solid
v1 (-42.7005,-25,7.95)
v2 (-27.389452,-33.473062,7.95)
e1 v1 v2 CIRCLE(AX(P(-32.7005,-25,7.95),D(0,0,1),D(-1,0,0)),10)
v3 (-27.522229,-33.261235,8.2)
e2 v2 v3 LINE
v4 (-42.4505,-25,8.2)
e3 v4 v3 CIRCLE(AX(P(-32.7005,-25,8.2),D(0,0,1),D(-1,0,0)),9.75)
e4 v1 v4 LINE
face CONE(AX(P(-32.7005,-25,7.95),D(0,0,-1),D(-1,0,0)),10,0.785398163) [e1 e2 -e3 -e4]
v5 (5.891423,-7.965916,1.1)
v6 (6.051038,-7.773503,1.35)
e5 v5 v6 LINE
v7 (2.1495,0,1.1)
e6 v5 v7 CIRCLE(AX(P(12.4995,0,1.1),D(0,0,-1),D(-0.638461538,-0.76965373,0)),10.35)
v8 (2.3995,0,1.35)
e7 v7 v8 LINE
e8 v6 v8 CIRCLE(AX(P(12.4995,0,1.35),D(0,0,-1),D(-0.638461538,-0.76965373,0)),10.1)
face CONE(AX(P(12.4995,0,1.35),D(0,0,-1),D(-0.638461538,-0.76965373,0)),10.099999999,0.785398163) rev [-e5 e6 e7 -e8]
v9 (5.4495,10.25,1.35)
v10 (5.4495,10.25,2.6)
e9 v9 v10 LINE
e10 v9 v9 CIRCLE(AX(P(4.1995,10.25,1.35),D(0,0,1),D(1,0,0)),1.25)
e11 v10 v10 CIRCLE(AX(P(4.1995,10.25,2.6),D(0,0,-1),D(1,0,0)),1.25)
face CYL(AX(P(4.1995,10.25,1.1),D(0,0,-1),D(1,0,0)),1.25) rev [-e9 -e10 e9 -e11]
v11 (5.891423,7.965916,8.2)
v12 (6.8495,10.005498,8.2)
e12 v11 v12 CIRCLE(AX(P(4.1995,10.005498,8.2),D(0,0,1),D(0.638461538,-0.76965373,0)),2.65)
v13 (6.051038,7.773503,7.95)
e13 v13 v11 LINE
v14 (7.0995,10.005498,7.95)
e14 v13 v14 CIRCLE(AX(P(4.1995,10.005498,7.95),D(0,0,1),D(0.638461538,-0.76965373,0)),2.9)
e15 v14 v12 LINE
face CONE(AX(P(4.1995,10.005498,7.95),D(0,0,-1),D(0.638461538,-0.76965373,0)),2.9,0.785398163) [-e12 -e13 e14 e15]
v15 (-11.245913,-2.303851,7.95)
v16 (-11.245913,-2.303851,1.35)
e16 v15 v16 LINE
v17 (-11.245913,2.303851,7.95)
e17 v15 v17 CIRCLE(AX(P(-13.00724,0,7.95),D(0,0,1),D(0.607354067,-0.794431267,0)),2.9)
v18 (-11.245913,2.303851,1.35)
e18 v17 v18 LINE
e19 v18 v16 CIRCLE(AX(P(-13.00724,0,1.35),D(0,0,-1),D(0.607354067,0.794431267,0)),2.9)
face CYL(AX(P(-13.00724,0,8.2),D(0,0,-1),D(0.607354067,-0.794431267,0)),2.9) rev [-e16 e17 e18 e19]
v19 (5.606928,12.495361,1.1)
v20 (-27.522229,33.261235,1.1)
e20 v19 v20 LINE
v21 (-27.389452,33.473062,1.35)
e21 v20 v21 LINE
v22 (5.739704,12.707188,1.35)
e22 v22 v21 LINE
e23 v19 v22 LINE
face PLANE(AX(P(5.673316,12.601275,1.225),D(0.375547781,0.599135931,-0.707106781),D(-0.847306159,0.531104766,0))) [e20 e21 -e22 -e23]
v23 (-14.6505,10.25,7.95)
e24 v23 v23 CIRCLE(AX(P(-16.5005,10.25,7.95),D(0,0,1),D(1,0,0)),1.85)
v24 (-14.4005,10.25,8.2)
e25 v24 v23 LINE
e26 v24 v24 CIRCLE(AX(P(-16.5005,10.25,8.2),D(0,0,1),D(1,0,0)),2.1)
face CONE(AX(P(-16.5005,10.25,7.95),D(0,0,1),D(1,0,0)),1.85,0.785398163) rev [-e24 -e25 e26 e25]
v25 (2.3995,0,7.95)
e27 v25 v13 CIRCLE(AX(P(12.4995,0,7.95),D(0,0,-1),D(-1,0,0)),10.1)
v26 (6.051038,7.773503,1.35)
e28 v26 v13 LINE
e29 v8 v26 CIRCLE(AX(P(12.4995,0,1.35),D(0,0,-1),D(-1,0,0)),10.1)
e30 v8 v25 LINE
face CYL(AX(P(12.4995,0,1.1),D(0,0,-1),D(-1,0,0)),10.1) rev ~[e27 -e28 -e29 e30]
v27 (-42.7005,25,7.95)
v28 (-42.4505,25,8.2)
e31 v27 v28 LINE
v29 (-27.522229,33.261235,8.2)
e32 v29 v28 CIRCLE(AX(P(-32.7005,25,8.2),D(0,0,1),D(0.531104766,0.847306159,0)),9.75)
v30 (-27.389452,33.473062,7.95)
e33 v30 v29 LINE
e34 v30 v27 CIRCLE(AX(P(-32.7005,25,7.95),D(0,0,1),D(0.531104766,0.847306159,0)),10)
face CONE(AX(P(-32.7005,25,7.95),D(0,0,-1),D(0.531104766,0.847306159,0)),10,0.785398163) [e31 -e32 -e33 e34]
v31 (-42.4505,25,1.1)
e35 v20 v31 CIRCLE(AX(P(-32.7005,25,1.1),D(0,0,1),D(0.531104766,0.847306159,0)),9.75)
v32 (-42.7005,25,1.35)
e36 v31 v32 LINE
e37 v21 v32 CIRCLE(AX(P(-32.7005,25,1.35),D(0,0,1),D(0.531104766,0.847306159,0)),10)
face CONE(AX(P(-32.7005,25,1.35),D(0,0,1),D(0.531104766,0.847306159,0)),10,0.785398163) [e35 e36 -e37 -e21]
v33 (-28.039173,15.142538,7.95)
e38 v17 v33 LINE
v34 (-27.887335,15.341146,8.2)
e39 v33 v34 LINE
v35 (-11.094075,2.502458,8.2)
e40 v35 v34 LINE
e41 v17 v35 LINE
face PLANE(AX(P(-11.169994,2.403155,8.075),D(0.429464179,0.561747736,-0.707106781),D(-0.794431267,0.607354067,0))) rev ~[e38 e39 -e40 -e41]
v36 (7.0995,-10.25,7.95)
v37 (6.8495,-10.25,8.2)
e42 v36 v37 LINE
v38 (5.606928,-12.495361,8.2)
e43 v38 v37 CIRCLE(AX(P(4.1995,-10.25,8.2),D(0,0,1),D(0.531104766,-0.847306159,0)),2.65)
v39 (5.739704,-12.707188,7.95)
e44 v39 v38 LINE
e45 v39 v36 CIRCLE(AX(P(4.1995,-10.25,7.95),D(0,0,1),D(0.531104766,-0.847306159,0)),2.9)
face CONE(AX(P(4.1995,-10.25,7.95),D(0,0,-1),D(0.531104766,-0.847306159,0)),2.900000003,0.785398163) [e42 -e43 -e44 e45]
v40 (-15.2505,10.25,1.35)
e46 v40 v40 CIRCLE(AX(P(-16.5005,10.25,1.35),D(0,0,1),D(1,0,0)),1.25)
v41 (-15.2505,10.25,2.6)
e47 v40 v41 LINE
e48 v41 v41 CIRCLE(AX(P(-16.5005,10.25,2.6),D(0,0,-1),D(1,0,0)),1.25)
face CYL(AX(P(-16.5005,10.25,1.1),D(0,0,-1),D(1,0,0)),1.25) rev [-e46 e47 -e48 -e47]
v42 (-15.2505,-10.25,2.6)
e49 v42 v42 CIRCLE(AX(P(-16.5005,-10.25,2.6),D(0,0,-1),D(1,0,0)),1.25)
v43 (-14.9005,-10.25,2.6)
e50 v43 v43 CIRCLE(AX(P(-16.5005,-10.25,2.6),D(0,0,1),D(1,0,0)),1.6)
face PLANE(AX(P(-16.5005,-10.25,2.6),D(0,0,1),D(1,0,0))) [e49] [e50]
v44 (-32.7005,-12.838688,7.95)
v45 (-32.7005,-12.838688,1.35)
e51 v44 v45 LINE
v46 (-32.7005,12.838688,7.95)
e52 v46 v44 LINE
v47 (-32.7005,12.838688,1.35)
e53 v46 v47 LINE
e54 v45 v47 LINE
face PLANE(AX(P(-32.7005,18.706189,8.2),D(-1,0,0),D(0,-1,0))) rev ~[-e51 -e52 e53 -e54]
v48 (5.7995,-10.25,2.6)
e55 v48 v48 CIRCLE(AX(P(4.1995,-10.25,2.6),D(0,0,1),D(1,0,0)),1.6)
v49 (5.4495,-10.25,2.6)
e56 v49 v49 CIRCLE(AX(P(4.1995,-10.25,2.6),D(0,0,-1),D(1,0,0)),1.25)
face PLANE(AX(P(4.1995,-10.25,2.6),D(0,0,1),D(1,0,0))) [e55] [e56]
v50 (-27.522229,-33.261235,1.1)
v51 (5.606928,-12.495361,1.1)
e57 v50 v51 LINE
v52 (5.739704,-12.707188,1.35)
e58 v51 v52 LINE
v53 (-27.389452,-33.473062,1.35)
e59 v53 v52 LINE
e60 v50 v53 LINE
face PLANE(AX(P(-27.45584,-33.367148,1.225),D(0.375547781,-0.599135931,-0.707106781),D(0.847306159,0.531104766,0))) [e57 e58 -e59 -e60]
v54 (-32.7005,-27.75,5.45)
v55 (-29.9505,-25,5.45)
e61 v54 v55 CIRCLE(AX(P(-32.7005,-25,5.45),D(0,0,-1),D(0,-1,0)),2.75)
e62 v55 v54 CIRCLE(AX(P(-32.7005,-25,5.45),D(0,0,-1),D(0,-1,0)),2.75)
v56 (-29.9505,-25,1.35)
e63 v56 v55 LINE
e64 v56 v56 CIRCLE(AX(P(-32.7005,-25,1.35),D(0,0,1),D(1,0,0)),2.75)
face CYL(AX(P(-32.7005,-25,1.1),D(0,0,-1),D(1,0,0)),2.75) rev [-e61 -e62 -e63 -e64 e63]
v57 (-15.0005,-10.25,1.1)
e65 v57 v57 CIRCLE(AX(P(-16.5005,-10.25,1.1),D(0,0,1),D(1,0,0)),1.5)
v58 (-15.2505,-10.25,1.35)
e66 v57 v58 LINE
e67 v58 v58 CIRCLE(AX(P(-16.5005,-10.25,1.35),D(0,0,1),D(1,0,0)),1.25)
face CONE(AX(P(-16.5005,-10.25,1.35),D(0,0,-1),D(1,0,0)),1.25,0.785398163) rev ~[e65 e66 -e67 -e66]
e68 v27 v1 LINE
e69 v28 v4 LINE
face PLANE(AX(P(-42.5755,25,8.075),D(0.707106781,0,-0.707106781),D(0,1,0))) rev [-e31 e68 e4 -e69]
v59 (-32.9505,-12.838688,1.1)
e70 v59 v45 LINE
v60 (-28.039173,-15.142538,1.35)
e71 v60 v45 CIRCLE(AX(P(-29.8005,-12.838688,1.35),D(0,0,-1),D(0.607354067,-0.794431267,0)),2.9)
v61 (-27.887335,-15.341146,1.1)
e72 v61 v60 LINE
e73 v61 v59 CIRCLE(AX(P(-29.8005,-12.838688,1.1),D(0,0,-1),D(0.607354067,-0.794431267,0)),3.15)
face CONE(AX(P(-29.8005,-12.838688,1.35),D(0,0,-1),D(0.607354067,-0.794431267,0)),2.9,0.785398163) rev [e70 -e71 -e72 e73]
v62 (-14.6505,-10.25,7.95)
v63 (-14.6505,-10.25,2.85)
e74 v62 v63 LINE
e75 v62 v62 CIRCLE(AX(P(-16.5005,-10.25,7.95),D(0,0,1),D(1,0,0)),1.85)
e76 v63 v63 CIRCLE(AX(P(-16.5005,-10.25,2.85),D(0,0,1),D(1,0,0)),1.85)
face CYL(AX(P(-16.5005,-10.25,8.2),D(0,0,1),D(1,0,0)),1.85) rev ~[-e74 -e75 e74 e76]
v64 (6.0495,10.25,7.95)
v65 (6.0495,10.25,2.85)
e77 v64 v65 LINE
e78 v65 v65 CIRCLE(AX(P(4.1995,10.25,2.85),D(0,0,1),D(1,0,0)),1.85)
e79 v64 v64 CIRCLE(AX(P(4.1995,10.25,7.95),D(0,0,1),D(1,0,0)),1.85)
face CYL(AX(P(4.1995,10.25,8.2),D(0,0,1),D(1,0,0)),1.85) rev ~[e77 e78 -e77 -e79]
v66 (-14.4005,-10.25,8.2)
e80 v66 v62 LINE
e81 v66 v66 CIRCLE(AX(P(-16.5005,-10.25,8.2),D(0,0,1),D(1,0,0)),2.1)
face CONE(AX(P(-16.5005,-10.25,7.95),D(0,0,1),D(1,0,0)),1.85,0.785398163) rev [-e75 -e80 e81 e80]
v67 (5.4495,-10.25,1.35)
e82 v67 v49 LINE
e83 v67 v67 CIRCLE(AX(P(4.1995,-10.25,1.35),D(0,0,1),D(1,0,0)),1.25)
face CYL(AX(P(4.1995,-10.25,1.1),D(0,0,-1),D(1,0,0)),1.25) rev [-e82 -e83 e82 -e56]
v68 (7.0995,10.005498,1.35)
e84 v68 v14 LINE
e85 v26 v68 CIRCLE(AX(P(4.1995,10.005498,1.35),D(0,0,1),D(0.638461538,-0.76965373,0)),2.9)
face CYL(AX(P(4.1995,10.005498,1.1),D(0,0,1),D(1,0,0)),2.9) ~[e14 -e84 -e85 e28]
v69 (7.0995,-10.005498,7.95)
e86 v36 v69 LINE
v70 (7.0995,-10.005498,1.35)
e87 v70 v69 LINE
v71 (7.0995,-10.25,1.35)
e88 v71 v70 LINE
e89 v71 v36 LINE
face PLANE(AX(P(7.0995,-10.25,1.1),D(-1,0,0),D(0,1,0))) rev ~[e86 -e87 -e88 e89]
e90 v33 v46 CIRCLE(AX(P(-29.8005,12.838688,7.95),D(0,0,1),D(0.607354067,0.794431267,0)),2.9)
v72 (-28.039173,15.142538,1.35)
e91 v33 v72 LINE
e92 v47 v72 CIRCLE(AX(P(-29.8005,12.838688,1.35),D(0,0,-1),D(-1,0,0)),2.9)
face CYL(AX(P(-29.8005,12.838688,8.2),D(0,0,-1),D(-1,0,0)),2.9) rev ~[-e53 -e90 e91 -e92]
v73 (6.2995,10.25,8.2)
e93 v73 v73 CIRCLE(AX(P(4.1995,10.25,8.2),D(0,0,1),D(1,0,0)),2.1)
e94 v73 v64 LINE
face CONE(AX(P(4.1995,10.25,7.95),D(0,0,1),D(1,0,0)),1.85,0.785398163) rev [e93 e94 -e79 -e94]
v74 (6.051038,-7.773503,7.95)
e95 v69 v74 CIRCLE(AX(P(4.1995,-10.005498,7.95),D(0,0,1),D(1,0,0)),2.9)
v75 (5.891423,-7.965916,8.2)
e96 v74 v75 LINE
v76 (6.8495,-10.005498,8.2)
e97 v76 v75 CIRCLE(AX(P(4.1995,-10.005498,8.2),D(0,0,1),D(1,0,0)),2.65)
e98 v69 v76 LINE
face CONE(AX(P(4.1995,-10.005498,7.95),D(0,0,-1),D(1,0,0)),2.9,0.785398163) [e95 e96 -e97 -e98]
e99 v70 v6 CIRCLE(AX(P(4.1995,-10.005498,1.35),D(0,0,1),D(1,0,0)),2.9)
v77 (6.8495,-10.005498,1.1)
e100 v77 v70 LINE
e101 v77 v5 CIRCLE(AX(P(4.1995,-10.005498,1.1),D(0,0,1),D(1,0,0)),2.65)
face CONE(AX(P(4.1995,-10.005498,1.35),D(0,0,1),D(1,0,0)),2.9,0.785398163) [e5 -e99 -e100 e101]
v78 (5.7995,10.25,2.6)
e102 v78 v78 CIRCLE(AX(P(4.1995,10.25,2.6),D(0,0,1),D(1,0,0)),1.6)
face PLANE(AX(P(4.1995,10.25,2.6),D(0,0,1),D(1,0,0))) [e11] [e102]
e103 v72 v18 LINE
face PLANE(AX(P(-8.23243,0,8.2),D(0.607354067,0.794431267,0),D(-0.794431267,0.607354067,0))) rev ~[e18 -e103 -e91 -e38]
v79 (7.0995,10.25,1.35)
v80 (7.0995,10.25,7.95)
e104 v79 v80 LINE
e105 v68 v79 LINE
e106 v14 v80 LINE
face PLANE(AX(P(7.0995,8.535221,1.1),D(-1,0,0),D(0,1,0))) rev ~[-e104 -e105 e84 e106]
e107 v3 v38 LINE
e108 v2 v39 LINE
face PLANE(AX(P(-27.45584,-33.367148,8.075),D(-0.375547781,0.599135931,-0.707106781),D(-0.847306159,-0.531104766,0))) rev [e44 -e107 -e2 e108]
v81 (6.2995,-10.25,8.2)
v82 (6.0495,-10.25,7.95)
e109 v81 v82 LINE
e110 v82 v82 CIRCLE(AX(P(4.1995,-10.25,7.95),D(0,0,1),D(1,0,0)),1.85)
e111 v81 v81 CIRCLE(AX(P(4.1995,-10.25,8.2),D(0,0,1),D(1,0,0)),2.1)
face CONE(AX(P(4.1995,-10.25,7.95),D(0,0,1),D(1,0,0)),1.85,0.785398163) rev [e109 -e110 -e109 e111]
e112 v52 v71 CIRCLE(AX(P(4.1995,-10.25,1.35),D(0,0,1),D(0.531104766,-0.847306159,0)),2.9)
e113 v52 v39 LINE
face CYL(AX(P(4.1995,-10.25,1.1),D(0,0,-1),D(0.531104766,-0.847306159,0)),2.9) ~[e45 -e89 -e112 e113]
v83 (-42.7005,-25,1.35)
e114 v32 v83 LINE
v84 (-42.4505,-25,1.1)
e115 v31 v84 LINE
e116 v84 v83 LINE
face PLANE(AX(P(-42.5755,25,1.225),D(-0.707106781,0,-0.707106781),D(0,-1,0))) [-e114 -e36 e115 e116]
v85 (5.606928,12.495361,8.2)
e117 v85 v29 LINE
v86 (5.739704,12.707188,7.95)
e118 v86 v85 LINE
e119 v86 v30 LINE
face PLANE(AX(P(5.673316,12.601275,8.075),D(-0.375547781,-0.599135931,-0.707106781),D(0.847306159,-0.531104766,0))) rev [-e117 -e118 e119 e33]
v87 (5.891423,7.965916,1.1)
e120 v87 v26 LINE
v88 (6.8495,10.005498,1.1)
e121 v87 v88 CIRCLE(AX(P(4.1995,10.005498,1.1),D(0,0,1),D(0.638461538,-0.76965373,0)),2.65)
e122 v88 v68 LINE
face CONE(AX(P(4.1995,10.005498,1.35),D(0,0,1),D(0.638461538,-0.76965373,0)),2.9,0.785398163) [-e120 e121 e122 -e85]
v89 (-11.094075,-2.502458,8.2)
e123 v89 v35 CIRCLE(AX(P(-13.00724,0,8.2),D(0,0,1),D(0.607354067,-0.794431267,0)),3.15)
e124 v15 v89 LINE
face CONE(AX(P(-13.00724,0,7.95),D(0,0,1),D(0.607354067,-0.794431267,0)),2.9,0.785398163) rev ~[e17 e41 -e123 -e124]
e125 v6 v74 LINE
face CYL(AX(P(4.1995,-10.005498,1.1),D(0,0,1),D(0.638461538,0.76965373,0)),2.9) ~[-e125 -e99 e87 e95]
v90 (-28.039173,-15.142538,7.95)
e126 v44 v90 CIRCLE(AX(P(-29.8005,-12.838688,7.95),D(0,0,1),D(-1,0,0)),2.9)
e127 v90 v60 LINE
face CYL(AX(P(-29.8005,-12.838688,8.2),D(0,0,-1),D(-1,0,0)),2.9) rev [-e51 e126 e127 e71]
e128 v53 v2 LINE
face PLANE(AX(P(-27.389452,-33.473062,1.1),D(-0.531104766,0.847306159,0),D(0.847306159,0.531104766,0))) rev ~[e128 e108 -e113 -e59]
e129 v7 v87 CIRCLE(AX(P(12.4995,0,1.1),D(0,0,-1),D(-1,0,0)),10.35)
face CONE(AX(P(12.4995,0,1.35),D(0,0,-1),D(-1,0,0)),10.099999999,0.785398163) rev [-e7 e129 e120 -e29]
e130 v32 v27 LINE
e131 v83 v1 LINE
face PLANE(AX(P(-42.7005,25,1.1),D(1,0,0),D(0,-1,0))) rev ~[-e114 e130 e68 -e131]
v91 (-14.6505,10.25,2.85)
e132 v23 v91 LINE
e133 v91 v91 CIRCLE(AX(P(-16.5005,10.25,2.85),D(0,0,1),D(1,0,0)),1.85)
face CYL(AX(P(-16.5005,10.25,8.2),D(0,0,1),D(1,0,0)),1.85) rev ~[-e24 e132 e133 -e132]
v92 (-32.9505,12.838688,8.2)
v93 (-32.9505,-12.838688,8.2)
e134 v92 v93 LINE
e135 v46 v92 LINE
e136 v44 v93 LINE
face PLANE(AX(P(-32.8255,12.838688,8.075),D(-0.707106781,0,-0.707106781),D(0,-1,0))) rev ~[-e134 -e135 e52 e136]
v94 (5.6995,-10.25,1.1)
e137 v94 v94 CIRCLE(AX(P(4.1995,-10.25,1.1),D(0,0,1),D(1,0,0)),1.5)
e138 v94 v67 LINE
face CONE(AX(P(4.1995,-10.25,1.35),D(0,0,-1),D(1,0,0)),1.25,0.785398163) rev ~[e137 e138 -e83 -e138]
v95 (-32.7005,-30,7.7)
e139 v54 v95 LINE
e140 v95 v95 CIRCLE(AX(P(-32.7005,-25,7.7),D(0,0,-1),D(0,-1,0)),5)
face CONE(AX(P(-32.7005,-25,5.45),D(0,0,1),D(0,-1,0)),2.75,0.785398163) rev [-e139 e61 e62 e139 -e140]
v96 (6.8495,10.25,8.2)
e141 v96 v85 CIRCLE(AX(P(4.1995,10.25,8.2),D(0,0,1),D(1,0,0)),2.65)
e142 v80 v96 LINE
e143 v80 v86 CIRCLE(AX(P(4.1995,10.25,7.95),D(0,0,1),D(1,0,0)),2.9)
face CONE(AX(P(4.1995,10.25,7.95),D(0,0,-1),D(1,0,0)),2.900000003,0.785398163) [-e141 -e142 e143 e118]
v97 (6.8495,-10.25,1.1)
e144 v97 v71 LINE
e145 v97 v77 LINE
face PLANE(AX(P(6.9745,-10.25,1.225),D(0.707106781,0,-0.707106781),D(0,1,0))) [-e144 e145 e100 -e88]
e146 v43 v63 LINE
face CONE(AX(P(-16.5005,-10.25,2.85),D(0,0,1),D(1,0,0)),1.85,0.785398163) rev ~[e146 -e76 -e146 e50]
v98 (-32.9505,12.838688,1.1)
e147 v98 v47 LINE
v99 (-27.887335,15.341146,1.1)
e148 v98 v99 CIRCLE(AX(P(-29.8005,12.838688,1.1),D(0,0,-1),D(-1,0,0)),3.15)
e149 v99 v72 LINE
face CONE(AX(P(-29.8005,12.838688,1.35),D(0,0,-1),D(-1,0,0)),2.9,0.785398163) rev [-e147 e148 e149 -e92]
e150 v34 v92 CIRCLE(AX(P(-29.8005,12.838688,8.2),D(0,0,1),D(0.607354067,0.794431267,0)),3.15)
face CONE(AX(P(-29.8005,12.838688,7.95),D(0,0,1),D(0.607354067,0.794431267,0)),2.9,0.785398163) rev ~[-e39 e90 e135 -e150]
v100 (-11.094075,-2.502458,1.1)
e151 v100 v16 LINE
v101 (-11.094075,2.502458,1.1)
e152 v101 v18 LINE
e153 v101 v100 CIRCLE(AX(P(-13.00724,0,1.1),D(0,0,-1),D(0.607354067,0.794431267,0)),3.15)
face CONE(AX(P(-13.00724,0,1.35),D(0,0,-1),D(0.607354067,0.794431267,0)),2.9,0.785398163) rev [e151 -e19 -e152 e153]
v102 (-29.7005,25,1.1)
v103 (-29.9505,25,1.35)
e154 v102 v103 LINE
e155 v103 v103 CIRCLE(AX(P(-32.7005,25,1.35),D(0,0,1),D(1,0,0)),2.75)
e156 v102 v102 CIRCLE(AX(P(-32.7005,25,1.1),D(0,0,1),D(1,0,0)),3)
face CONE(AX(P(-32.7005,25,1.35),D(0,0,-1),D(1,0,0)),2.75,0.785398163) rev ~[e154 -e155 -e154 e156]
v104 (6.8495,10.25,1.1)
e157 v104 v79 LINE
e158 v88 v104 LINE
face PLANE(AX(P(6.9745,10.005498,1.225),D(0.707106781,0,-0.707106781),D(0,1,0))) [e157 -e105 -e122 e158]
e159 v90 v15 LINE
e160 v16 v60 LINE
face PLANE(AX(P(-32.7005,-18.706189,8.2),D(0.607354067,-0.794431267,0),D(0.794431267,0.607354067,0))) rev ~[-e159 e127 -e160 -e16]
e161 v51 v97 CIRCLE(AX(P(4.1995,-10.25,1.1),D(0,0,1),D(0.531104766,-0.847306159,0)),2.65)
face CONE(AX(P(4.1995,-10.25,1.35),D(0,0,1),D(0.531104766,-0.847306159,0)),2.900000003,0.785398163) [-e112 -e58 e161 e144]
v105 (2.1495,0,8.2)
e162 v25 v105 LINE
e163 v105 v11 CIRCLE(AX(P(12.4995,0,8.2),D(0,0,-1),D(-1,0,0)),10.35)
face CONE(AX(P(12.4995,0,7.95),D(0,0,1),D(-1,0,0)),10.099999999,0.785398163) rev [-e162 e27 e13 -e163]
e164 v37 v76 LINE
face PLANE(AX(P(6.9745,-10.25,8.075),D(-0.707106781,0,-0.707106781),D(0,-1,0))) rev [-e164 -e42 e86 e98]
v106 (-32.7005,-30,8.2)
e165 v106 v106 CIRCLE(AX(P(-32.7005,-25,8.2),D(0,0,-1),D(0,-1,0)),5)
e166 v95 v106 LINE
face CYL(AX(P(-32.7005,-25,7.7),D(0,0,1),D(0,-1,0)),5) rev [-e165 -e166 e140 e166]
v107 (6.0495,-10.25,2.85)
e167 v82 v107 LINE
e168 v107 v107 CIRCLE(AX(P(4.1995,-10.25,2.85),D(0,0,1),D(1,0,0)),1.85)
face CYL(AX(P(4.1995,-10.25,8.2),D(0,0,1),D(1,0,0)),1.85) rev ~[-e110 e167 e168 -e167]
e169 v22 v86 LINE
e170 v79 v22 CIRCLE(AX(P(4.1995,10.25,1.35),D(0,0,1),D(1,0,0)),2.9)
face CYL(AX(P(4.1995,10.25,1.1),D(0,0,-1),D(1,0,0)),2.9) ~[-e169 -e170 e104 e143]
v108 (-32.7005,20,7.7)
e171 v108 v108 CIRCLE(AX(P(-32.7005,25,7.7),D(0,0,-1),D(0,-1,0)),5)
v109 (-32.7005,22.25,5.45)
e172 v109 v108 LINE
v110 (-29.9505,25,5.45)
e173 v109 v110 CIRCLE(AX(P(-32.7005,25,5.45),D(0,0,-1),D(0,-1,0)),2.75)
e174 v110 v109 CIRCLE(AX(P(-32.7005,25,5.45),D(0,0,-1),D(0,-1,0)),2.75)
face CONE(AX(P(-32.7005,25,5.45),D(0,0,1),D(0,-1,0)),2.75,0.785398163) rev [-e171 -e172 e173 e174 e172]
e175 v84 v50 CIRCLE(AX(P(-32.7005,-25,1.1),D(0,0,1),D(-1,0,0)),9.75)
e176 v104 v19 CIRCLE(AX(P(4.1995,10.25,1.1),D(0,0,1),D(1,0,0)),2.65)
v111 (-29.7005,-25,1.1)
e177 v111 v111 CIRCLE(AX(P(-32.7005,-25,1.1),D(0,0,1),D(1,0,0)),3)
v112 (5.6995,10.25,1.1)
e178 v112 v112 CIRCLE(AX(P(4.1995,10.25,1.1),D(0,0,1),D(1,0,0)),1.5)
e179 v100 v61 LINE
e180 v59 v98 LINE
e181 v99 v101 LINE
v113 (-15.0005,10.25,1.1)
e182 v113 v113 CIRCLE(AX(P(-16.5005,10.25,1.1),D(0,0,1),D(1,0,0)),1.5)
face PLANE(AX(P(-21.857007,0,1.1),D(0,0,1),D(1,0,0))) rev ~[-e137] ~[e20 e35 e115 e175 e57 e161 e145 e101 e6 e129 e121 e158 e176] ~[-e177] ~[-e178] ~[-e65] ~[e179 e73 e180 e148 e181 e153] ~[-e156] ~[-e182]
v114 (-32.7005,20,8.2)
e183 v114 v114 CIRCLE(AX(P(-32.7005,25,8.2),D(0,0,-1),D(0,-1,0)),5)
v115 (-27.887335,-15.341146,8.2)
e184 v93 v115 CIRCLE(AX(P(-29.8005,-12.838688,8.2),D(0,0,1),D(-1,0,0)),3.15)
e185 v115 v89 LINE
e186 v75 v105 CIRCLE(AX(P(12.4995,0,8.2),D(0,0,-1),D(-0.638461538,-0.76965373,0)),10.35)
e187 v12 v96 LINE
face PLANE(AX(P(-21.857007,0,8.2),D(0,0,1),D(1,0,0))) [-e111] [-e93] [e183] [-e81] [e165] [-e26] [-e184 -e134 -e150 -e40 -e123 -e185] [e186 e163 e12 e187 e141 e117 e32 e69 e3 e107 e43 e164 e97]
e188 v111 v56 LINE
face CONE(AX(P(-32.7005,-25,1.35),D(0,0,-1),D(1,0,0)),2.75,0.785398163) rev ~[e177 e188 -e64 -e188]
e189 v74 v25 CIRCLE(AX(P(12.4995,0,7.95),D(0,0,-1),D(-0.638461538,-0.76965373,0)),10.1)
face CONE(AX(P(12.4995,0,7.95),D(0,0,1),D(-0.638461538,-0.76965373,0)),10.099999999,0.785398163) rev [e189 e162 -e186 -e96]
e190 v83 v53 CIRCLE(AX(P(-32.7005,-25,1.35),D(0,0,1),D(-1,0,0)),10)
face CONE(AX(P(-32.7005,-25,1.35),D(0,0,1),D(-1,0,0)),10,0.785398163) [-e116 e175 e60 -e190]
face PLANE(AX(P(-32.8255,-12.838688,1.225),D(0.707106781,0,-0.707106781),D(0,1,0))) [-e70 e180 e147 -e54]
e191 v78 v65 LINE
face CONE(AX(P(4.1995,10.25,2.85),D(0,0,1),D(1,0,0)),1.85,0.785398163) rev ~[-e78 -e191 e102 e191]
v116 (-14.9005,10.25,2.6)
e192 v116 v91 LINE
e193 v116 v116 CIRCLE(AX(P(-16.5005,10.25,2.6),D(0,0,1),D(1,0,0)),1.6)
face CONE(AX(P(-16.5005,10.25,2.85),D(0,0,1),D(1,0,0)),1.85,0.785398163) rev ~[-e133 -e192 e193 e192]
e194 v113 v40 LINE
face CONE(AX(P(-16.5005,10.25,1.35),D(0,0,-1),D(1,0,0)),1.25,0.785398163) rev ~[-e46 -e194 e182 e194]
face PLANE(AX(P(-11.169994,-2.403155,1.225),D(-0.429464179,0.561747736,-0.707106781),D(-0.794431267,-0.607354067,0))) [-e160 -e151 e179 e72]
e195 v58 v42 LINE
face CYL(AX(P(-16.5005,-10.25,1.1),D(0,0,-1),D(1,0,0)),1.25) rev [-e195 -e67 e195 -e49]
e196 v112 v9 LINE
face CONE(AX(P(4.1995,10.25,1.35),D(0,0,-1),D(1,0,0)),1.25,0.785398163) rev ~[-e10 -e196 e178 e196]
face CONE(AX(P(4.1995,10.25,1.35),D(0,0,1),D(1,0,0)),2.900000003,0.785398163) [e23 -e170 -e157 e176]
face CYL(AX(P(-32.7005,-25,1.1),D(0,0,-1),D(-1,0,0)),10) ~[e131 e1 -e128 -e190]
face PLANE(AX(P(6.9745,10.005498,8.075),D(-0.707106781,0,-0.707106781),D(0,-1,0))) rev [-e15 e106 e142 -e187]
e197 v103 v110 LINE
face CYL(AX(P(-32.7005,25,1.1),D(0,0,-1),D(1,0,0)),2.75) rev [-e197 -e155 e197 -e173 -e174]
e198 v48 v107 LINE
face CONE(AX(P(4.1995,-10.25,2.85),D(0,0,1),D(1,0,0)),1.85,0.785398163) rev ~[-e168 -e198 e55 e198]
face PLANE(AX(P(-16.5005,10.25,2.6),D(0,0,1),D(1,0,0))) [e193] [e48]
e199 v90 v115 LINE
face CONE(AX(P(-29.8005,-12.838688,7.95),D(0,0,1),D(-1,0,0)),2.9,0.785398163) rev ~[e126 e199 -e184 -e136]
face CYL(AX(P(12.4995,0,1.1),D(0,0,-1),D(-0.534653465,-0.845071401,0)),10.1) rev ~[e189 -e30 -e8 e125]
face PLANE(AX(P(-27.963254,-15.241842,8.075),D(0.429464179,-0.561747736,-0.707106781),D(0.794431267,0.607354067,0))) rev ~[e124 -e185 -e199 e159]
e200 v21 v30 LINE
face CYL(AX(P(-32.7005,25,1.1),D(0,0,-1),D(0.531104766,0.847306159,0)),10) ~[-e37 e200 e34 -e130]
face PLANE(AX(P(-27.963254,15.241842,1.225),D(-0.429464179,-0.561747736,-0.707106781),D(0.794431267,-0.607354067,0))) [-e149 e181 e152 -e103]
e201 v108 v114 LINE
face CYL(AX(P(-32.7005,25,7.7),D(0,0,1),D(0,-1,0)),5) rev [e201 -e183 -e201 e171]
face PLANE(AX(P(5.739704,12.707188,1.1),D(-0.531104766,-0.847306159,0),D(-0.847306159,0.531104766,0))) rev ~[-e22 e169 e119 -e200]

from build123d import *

# Parameters (mm, degrees)
SKETCH1_R                                      = 2.75
SKETCH1_R_2                                    = 1.25
BOSS_EXTRUDE1_DEPTH                            = 7.1
SKETCH2_R                                      = 1.85
CUT_EXTRUDE1_DEPTH                             = 5.6
FILLET1_R                                      = 2.9
CSK_FOR_M5_FLAT_HEAD_MACHINE_SCREW1_AT_2_COUNT = 2
CSK_FOR_M5_FLAT_HEAD_MACHINE_SCREW1_AT_2_PITCH = 50
CUT_EXTRUDE2_REACH                             = 57.666
FILLET2_R                                      = 2.9
CHAMFER1_SIZE                                  = 0.25


with BuildPart() as part:
    # Sketch1 → Boss-Extrude1 (new body)
    with BuildSketch(Plane.XY.offset(1.1)):
        with BuildLine():
            Line((5.73970382, 12.707187863), (-27.389452344, 33.473061595))
            ThreePointArc((-27.389452344, 33.473061595), (-37.542479112, 33.749585035), (-42.7005, 25))
            Line((-42.7005, 25), (-42.7005, -25))
            ThreePointArc((-42.7005, -25), (-37.542479112, -33.749585035), (-27.389452344, -33.473061595))
            Line((-27.389452344, -33.473061595), (5.73970382, -12.707187863))
            ThreePointArc((5.73970382, -12.707187863), (6.73687966, -11.654173942), (7.0995, -10.25))
            Line((7.0995, -10.25), (7.0995, -8.535221145))
            ThreePointArc((7.0995, -8.535221145), (3.652184023, -4.871857962), (2.3995, 0))
            ThreePointArc((2.3995, 0), (3.652184023, 4.871857962), (7.0995, 8.535221145))
            Line((7.0995, 8.535221145), (7.0995, 10.25))
            ThreePointArc((7.0995, 10.25), (6.73687966, 11.654173942), (5.73970382, 12.707187863))
        make_face()
        with Locations((-32.7005, -25)):
            Circle(SKETCH1_R, mode=Mode.SUBTRACT)
        with Locations((-16.5005, -10.25)):
            Circle(SKETCH1_R_2, mode=Mode.SUBTRACT)
        with Locations((4.1995, -10.25)):
            Circle(SKETCH1_R_2, mode=Mode.SUBTRACT)
        with Locations((-32.7005, 25)):
            Circle(SKETCH1_R, mode=Mode.SUBTRACT)
        with Locations((4.1995, 10.25)):
            Circle(SKETCH1_R_2, mode=Mode.SUBTRACT)
        with Locations((-16.5005, 10.25)):
            Circle(SKETCH1_R_2, mode=Mode.SUBTRACT)
    extrude(amount=BOSS_EXTRUDE1_DEPTH)

    # Sketch2 → Cut-Extrude1 (cut)
    with BuildSketch(Plane.XY.offset(8.2)):
        with Locations((-16.5005, 10.25)):
            Circle(SKETCH2_R)
        with Locations((4.1995, 10.25)):
            Circle(SKETCH2_R)
        with Locations((-16.5005, -10.25)):
            Circle(SKETCH2_R)
        with Locations((4.1995, -10.25)):
            Circle(SKETCH2_R)
    extrude(amount=-CUT_EXTRUDE1_DEPTH, mode=Mode.SUBTRACT)

    # Fillet1
    fillet1_edges = [part.edges().sort_by_distance(p)[0] for p in [
        (7.0995, 8.535221145, 4.65),
        (7.0995, -8.535221145, 4.65),
    ]]
    fillet(fillet1_edges, radius=FILLET1_R)

    # Sketch4 → CSK for M5 Flat Head Machine Screw1 (revolve, cut)
    with BuildSketch(Plane(origin=(-32.7005, 25, 8.2), x_dir=(0, -1, 0), z_dir=(1, 0, 0))):
        Polygon((0, 0), (0, 7.1), (2.75, 7.1), (2.75, 2.75), (5, 0.5), (5, 0), align=None)
    csk_for_m5_flat_head_machine_screw1 = revolve(axis=Axis((-32.7005, 25, 14.55), (0, 0, -1)), mode=Mode.SUBTRACT)

    # CSK for M5 Flat Head Machine Screw1 at 2: CSK for M5 Flat Head Machine Screw1 ×2
    with Locations(*[(0, -i * CSK_FOR_M5_FLAT_HEAD_MACHINE_SCREW1_AT_2_PITCH, 0) for i in range(1, CSK_FOR_M5_FLAT_HEAD_MACHINE_SCREW1_AT_2_COUNT)]):
        add(csk_for_m5_flat_head_machine_screw1, mode=Mode.SUBTRACT)

    # Sketch5 → Cut-Extrude2 (cut, up to next)
    with BuildSketch(Plane.XY.offset(8.2), mode=Mode.PRIVATE) as cut_extrude2_sk1:
        Polygon((-8.232430261, 0), (-32.7005, 18.706189308), (-32.7005, -18.706189308), align=None)
    cut_extrude2_tool1 = extrude(cut_extrude2_sk1.sketch, amount=-CUT_EXTRUDE2_REACH, mode=Mode.PRIVATE) & part.part
    add(cut_extrude2_tool1.solids().sort_by_distance((-24.544477, 0, 8.2))[0], mode=Mode.SUBTRACT)

    # Fillet2
    fillet2_edges = [part.edges().sort_by_distance(p)[0] for p in [
        (-8.232430261, 0, 4.65),
        (-32.7005, -18.706189308, 4.65),
        (-32.7005, 18.706189308, 4.65),
    ]]
    fillet(fillet2_edges, radius=FILLET2_R)

    # Chamfer1
    chamfer1_edges = [part.edges().sort_by_distance(p)[0] for p in [
        (-37.542479112, -33.749585035, 8.2),
        (-19.642543112, -8.723194486, 8.2),
        (-19.642543112, -8.723194486, 1.1),
        (-32.7005, 0, 1.1),
        (-32.7005, 0, 8.2),
        (-19.642543112, 8.723194486, 1.1),
        (-19.642543112, 8.723194486, 8.2),
        (-31.08544208, -15.438480665, 8.2),
        (-31.08544208, -15.438480665, 1.1),
        (-10.107239813, 0, 8.2),
        (-10.107239813, 0, 1.1),
        (-31.08544208, 15.438480665, 8.2),
        (-31.08544208, 15.438480665, 1.1),
        (-10.824874262, -23.090124729, 8.2),
        (-35.4505, -25, 1.1),
        (-35.4505, 25, 1.1),
        (-17.7505, 10.25, 1.1),
        (2.9495, -10.25, 1.1),
        (2.9495, 10.25, 1.1),
        (6.73687966, -11.654173942, 8.2),
        (-17.7505, -10.25, 1.1),
        (-42.7005, 0, 1.1),
        (-37.542479112, 33.749585035, 1.1),
        (-10.824874262, 23.090124729, 1.1),
        (6.73687966, 11.654173942, 1.1),
        (7.0995, 10.127749244, 1.1),
        (6.73687966, -11.654173942, 1.1),
        (-10.824874262, -23.090124729, 1.1),
        (-37.542479112, -33.749585035, 1.1),
        (7.0995, 10.127749244, 8.2),
        (6.73687966, 11.654173942, 8.2),
        (-10.824874262, 23.090124729, 8.2),
        (-37.542479112, 33.749585035, 8.2),
        (-42.7005, 0, 8.2),
        (2.3495, 10.25, 8.2),
        (2.3495, 10.25, 2.6),
        (-18.3505, -10.25, 8.2),
        (-18.3505, -10.25, 2.6),
        (2.3495, -10.25, 8.2),
        (2.3495, -10.25, 2.6),
        (-18.3505, 10.25, 8.2),
        (-18.3505, 10.25, 2.6),
        (2.3995, 0, 1.1),
        (2.3995, 0, 8.2),
        (7.0995, -10.127749244, 1.1),
        (6.824329665, 8.772506505, 1.1),
        (6.824329665, -8.772506505, 1.1),
        (7.0995, -10.127749244, 8.2),
        (6.824329665, 8.772506505, 8.2),
        (6.824329665, -8.772506505, 8.2),
    ]]
    chamfer(chamfer1_edges, length=CHAMFER1_SIZE)


solid = part.part
